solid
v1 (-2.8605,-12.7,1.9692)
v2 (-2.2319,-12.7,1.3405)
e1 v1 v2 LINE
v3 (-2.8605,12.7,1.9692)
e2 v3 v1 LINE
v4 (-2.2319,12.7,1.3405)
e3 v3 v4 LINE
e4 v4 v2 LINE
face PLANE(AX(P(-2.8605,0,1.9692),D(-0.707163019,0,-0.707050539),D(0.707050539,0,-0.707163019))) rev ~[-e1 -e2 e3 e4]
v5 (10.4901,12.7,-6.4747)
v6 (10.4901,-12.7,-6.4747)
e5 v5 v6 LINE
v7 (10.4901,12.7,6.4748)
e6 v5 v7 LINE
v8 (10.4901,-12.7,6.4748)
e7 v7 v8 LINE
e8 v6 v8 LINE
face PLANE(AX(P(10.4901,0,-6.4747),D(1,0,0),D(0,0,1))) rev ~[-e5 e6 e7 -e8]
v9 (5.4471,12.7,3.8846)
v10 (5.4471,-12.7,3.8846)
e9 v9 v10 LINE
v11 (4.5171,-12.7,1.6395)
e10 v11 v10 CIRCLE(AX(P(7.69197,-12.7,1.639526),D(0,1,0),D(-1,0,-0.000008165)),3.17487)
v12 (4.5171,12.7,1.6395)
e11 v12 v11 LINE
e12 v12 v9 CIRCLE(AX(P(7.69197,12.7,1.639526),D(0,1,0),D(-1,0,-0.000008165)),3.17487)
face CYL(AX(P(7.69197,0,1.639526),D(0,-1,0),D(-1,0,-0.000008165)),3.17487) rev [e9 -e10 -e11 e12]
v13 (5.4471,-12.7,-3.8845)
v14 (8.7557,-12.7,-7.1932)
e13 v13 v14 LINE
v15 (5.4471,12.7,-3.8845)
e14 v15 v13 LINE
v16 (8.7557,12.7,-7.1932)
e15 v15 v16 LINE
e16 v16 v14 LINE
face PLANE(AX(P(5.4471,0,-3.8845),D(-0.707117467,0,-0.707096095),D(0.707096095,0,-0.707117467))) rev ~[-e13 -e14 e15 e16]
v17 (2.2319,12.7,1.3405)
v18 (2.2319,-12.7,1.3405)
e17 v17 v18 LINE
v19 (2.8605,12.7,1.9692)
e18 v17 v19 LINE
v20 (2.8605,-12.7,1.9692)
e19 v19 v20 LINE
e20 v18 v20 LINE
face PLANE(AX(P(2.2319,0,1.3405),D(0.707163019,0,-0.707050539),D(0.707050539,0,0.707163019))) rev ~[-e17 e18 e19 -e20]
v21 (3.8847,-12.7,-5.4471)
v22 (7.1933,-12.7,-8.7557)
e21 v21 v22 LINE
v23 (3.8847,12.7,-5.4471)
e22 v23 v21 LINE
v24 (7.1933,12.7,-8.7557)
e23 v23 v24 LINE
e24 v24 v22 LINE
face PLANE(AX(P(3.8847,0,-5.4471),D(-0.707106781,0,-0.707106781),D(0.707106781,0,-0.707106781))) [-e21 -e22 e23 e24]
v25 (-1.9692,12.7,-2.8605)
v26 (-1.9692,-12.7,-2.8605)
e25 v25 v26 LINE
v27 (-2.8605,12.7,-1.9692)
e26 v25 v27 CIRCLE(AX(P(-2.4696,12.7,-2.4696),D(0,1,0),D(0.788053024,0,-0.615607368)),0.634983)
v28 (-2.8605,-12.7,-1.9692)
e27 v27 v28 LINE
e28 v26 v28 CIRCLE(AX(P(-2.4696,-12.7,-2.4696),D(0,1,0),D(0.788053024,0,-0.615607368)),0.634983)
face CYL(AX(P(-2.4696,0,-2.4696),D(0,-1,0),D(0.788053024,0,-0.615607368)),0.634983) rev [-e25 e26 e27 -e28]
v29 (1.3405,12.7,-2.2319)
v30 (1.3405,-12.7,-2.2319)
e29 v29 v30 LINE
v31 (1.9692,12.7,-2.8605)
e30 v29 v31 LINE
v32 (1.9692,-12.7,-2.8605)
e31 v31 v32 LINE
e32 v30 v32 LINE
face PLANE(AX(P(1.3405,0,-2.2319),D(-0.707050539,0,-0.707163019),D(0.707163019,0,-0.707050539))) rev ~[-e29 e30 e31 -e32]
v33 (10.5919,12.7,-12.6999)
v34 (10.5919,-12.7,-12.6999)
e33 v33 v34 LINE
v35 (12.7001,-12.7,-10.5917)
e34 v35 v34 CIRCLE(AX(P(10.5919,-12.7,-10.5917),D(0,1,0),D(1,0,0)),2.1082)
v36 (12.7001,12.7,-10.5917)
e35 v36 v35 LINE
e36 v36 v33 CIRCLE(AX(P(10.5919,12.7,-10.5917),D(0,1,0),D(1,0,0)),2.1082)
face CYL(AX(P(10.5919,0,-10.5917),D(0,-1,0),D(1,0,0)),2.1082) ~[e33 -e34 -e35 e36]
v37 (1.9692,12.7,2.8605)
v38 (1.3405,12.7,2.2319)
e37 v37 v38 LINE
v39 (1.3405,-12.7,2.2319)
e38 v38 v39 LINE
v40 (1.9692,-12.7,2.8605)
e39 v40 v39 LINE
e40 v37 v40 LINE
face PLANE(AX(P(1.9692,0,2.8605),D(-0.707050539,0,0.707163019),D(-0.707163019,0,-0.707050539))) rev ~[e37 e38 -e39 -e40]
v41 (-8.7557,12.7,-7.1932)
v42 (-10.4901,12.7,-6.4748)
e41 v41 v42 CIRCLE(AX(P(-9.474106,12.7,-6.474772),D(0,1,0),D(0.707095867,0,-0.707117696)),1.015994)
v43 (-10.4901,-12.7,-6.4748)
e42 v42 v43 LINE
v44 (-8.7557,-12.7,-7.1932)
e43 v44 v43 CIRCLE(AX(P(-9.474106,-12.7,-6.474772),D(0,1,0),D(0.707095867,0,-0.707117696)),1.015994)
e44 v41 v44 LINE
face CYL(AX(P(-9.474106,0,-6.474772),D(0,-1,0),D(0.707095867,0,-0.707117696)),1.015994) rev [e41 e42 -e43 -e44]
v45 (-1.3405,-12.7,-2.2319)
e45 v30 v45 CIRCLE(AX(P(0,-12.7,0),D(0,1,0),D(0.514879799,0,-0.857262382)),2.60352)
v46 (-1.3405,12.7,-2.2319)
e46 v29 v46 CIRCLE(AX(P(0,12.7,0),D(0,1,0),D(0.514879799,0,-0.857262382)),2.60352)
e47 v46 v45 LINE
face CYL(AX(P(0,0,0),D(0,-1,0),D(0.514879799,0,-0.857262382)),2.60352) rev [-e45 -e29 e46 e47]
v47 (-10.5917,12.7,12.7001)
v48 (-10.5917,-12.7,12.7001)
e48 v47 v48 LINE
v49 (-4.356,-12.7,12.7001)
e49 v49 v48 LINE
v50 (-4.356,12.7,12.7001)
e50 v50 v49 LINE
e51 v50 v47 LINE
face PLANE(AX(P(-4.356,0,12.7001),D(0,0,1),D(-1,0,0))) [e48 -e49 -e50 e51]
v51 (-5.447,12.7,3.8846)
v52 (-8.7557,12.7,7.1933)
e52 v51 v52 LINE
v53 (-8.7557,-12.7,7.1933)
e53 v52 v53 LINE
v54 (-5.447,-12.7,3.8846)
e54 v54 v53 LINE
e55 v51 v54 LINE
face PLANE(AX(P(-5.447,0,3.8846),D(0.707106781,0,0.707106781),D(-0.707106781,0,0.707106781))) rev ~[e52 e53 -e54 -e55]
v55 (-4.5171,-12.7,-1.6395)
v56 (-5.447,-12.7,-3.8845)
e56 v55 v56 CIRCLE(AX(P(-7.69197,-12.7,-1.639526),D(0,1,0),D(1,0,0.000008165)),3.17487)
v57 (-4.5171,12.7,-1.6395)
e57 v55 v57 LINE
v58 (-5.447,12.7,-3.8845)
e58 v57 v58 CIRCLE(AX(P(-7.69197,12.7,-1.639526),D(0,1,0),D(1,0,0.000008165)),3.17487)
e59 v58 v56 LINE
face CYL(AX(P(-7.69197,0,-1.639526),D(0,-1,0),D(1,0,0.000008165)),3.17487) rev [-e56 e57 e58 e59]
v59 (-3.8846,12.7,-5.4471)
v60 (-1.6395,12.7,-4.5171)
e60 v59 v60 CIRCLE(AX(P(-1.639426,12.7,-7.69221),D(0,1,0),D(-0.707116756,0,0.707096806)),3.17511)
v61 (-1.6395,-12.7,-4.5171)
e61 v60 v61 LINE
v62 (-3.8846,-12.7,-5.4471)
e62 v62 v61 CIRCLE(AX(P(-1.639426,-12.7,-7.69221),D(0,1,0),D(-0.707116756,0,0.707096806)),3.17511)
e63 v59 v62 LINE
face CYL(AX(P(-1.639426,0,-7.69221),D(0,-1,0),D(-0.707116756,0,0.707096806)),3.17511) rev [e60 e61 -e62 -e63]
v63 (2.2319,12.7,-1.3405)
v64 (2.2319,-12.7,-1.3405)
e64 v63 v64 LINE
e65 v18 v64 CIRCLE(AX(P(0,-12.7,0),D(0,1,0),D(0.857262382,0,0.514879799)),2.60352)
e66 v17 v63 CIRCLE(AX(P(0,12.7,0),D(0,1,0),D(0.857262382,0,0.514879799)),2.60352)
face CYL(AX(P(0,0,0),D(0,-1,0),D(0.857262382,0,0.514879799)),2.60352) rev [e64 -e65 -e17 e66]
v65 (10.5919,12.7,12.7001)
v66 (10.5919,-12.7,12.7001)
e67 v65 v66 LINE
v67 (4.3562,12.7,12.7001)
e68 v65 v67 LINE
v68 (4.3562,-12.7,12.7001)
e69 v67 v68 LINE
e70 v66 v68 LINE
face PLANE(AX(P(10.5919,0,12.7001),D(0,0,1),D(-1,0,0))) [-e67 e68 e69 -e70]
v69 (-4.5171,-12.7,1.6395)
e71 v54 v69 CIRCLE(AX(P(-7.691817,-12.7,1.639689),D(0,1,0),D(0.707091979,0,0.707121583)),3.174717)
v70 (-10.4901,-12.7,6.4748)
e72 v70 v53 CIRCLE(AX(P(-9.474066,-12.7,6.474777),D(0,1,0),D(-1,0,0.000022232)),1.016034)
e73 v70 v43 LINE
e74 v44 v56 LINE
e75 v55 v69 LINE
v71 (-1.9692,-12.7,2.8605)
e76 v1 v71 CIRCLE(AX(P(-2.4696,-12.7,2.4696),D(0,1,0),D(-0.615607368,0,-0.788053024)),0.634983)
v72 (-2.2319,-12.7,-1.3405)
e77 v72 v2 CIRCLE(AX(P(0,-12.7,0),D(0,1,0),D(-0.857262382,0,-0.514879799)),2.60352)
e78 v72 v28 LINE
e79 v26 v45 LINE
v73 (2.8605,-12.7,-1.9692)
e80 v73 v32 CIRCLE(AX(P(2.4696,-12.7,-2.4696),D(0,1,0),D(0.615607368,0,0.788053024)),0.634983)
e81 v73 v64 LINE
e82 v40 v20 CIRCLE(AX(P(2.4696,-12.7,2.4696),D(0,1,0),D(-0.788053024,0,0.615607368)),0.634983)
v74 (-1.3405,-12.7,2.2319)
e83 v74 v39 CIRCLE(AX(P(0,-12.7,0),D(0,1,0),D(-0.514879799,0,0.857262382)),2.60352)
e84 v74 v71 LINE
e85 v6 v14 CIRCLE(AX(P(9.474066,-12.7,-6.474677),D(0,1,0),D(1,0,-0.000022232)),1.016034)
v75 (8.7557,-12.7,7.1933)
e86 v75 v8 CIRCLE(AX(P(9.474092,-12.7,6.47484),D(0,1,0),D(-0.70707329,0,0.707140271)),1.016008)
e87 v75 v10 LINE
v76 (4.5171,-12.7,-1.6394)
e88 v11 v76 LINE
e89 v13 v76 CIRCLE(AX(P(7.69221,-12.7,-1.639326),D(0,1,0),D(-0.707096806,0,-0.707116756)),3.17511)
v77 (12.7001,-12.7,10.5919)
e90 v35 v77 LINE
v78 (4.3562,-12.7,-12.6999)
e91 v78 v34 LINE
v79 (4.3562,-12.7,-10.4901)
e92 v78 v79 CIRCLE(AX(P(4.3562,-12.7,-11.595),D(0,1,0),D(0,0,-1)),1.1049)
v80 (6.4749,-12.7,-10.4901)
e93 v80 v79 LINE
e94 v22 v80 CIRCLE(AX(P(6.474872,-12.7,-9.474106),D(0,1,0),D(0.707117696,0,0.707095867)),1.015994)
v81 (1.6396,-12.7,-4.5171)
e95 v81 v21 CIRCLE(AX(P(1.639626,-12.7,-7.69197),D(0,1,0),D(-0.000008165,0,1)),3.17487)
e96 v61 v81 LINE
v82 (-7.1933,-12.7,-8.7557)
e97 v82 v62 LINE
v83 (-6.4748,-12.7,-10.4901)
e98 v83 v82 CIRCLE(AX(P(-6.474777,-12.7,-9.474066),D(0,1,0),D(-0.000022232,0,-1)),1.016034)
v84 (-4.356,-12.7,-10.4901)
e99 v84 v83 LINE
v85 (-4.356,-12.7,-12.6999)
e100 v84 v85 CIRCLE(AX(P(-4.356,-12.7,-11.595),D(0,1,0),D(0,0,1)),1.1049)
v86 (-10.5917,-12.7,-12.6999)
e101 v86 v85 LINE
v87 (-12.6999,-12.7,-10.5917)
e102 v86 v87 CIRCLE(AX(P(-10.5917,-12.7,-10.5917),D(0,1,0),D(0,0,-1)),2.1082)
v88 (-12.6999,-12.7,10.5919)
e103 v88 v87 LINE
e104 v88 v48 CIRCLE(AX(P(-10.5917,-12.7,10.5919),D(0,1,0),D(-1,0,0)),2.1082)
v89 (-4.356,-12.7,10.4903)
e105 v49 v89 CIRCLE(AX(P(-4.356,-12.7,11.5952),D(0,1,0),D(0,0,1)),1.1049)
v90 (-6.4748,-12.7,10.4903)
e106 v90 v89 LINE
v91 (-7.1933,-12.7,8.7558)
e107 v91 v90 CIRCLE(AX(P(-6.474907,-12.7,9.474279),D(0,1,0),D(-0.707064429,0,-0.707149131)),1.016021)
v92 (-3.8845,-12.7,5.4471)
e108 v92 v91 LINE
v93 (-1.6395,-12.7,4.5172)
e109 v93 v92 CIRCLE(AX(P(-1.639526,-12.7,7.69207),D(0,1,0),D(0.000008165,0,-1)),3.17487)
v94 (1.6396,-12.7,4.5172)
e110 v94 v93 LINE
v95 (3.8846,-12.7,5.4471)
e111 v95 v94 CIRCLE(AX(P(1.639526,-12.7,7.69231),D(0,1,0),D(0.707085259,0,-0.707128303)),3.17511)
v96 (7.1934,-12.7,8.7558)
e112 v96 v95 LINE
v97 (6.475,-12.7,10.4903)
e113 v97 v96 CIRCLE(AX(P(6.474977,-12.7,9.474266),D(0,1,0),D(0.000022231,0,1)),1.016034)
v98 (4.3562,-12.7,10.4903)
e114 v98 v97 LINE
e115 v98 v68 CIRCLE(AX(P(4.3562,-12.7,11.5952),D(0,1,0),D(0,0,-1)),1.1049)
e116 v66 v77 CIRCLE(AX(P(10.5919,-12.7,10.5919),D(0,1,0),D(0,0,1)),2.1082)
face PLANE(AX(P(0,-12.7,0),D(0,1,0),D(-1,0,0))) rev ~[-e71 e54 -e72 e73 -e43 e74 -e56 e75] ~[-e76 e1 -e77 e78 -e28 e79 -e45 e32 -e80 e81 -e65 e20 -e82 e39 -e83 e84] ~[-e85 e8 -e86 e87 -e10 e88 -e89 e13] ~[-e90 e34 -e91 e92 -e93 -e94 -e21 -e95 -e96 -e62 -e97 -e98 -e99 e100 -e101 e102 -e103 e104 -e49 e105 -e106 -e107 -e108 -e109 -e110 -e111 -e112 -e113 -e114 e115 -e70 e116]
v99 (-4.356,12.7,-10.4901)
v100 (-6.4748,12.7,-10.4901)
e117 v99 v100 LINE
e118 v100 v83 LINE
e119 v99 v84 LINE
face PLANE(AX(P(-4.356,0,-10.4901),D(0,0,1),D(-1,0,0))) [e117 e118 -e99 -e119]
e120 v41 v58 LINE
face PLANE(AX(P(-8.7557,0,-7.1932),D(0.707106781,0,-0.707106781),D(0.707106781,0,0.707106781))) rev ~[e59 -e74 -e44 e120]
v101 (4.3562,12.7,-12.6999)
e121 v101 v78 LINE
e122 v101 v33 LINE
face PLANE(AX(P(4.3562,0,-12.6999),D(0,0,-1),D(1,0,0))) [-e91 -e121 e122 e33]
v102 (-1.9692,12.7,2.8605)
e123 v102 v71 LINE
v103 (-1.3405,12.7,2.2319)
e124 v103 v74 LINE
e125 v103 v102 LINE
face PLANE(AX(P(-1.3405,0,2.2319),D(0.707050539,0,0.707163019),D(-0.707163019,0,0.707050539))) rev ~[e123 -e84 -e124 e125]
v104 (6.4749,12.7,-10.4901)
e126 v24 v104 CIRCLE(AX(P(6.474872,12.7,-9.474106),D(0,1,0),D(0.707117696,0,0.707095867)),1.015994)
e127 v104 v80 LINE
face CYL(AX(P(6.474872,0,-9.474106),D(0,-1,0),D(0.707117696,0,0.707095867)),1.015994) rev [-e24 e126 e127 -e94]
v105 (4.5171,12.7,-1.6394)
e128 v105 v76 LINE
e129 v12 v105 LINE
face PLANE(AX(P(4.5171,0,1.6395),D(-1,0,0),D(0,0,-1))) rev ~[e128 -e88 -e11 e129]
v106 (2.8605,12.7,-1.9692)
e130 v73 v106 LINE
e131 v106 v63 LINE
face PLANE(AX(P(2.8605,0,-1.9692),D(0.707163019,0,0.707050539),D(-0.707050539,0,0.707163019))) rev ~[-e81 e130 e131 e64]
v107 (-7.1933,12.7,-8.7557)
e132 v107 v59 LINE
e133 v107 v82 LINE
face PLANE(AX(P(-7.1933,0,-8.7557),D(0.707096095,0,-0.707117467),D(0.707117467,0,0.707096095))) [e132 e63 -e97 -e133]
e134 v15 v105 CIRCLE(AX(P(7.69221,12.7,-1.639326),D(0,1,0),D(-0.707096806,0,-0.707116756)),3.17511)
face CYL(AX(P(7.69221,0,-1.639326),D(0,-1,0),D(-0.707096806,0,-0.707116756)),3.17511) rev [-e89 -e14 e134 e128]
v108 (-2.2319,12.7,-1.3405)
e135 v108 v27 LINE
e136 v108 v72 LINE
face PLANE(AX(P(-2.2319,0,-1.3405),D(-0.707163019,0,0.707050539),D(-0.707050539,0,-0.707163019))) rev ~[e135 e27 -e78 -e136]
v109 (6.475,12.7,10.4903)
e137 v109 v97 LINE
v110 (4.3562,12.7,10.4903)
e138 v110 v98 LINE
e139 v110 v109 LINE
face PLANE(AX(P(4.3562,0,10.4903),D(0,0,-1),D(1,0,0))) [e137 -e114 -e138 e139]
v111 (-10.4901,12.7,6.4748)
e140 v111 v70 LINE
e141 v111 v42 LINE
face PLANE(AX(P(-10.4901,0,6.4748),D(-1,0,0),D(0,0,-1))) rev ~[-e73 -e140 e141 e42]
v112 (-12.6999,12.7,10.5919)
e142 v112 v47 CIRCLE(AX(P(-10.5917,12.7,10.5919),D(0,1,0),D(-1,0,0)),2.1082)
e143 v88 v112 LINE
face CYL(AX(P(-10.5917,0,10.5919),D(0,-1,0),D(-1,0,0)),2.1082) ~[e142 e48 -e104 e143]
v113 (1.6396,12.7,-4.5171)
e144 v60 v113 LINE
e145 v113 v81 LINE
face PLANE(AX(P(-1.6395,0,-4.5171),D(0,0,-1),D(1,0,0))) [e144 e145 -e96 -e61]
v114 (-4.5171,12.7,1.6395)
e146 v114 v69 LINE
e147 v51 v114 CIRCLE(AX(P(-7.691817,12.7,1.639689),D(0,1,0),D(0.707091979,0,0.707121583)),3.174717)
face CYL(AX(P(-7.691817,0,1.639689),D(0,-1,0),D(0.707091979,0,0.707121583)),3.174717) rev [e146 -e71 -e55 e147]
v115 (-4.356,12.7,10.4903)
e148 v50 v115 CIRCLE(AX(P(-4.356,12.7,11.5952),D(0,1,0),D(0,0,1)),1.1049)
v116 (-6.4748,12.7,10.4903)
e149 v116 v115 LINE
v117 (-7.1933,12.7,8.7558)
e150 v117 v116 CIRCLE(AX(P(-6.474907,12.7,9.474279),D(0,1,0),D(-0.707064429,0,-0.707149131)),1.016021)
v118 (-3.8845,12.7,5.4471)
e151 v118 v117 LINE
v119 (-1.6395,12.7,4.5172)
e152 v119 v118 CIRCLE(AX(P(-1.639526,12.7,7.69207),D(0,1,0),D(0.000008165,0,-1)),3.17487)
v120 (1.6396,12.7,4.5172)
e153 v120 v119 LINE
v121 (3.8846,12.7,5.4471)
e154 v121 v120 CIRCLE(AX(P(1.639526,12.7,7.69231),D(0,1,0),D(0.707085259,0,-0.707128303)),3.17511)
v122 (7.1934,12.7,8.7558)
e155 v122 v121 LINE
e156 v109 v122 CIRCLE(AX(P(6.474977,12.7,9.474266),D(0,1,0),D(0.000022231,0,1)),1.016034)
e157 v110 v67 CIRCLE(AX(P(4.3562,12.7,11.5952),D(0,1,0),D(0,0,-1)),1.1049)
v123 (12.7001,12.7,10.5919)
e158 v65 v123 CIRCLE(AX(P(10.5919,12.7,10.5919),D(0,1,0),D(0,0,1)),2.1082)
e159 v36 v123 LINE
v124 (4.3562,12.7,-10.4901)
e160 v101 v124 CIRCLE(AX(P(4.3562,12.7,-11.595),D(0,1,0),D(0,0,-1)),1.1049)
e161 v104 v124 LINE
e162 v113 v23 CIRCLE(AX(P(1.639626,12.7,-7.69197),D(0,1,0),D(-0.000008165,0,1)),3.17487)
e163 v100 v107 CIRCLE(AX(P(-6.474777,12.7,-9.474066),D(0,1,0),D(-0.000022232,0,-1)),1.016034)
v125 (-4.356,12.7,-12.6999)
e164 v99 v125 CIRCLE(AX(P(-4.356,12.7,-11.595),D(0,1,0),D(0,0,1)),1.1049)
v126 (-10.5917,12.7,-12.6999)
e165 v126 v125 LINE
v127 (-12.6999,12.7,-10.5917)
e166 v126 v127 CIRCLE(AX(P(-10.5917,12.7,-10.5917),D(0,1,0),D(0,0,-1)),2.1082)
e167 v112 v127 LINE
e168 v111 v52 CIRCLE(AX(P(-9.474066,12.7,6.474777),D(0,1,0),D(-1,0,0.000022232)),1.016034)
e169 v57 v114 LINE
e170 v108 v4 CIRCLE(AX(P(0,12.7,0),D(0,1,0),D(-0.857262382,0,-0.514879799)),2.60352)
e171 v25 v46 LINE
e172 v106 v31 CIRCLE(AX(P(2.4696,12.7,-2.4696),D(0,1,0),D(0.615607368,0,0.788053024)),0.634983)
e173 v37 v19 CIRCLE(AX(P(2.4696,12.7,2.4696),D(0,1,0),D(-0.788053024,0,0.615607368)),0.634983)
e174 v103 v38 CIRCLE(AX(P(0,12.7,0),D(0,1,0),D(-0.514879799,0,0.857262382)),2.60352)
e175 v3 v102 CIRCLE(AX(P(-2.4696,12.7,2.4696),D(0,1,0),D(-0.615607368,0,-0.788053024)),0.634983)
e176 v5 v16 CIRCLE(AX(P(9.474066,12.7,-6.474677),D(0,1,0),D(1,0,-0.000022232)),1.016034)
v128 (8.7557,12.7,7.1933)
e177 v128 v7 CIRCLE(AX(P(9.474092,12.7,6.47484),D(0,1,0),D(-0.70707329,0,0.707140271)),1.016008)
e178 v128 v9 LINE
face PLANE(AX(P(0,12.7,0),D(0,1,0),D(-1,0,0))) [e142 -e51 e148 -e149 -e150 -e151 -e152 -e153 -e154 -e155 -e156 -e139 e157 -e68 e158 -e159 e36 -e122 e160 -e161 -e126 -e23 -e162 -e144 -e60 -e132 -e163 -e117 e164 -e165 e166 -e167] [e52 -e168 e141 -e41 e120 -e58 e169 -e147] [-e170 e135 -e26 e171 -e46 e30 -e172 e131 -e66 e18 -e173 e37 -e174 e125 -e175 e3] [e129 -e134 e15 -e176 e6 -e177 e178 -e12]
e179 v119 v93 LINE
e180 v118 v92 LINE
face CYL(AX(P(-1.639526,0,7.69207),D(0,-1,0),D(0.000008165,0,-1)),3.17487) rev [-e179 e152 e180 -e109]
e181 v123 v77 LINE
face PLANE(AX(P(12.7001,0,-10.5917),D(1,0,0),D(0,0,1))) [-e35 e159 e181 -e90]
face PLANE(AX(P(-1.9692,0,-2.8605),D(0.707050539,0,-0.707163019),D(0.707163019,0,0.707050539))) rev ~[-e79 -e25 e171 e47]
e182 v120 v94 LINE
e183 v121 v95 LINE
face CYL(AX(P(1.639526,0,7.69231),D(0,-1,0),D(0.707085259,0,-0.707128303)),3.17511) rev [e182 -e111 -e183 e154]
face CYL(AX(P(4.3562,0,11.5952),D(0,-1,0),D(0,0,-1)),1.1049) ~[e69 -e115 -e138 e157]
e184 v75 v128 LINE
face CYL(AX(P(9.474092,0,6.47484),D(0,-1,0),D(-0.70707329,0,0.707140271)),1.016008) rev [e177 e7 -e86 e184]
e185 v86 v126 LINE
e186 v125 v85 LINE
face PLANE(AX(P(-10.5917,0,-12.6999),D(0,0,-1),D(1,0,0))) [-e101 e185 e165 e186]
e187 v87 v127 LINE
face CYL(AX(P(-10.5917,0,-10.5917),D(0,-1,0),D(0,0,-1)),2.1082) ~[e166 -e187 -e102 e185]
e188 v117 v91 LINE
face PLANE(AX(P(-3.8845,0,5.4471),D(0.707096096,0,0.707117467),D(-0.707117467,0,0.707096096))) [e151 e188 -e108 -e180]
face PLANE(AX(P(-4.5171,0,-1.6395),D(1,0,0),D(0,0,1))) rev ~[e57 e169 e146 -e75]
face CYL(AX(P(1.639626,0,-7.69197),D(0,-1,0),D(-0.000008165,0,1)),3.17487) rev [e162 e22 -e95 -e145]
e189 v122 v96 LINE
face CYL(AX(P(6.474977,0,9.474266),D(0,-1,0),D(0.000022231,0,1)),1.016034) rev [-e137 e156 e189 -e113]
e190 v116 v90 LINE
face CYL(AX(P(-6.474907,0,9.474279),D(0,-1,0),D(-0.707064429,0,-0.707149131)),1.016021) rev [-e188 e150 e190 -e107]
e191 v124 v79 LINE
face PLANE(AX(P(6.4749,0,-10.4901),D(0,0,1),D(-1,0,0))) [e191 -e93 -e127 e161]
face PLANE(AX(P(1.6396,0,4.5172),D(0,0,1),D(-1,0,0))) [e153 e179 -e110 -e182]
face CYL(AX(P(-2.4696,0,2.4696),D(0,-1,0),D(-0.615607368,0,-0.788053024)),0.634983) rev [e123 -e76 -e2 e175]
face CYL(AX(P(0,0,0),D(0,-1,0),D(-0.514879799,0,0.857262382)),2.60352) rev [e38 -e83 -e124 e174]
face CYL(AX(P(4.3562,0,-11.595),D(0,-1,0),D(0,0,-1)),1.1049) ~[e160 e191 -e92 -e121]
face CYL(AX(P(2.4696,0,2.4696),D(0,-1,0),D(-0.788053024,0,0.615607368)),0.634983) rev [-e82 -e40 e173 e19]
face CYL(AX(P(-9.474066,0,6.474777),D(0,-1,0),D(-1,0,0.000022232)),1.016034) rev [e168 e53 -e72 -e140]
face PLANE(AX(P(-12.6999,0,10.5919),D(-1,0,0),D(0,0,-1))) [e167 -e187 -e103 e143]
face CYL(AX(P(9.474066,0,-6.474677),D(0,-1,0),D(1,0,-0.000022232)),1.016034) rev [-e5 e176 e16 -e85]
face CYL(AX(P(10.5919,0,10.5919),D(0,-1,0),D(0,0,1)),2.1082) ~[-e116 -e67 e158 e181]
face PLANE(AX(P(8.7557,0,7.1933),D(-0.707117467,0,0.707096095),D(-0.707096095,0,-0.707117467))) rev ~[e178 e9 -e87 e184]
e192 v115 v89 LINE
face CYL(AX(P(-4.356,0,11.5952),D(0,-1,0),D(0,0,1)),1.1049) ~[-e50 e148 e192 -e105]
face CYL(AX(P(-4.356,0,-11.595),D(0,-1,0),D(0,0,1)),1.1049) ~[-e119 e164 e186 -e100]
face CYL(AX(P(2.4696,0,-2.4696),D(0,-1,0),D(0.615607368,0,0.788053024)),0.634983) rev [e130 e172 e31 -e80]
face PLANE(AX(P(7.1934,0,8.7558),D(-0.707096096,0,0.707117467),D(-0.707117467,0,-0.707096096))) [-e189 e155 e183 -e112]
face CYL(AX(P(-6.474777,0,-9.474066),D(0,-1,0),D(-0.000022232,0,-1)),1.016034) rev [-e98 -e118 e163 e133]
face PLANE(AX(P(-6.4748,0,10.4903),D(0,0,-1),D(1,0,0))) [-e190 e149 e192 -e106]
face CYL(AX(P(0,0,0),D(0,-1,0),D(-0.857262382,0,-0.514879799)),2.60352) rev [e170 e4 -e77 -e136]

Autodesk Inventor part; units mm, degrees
ref_plane "YZ Plane" through (0, 0, 0) normal (1, 0, 0) x (0, 1, 0)
ref_plane "XZ Plane" through (0, 0, 0) normal (0, 1, 0) x (-1, 0, 0)
ref_plane "XY Plane" through (0, 0, 0) normal (0, 0, 1) x (1, 0, 0)
sketch "Sketch1" plane through (0, 0, 0) normal (0, 1, 0) x (-1, 0, 0)
  arc A0 (-2.8605, -1.9692) -> (-1.9692, -2.8605) centre (-2.4696, -2.4696) ccw
  line L0 (-1.3405, -2.2319) -> (-1.9692, -2.8605)
  arc A1 (-1.3405, -2.2319) -> (1.3405, -2.2319) centre (0, 0) ccw
  line L1 (1.9692, -2.8605) -> (1.3405, -2.2319)
  arc A2 (1.9692, -2.8605) -> (2.8605, -1.9692) centre (2.4696, -2.4696) ccw
  line L2 (2.2319, -1.3405) -> (2.8605, -1.9692)
  arc A3 (2.2319, -1.3405) -> (2.2319, 1.3405) centre (0, 0) ccw
  line L3 (2.8605, 1.9692) -> (2.2319, 1.3405)
  arc A4 (2.8605, 1.9692) -> (1.9692, 2.8605) centre (2.4696, 2.4696) ccw
  line L4 (1.3405, 2.2319) -> (1.9692, 2.8605)
  arc A5 (1.3405, 2.2319) -> (-1.3405, 2.2319) centre (0, 0) ccw
  line L5 (-1.9692, 2.8605) -> (-1.3405, 2.2319)
  arc A6 (-1.9692, 2.8605) -> (-2.8605, 1.9692) centre (-2.4696, 2.4696) ccw
  line L6 (-2.2319, 1.3405) -> (-2.8605, 1.9692)
  arc A7 (-2.2319, 1.3405) -> (-2.2319, -1.3405) centre (0, 0) ccw
  line L7 (-2.8605, -1.9692) -> (-2.2319, -1.3405)
  arc A8 (4.5171, -1.6395) -> (5.447, -3.8845) centre (7.6921, -1.6395) ccw
  line L8 (8.7557, -7.1932) -> (5.447, -3.8845)
  arc A9 (8.7557, -7.1932) -> (10.4901, -6.4748) centre (9.4741, -6.4748) ccw
  line L9 (10.4901, 6.4748) -> (10.4901, -6.4748)
  arc A10 (10.4901, 6.4748) -> (8.7557, 7.1933) centre (9.4741, 6.4748) ccw
  line L10 (5.447, 3.8846) -> (8.7557, 7.1933)
  arc A11 (5.447, 3.8846) -> (4.5171, 1.6395) centre (7.6921, 1.6395) ccw
  line L11 (4.5171, -1.6395) -> (4.5171, 1.6395)
  arc A12 (-8.7557, 7.1933) -> (-10.4901, 6.4748) centre (-9.4741, 6.4748) ccw
  line L12 (-10.4901, -6.4747) -> (-10.4901, 6.4748)
  arc A13 (-10.4901, -6.4747) -> (-8.7557, -7.1932) centre (-9.4741, -6.4747) ccw
  line L13 (-5.4471, -3.8845) -> (-8.7557, -7.1932)
  arc A14 (-5.4471, -3.8845) -> (-4.5171, -1.6394) centre (-7.6921, -1.6394) ccw
  line L14 (-4.5171, 1.6395) -> (-4.5171, -1.6394)
  arc A15 (-4.5171, 1.6395) -> (-5.4471, 3.8846) centre (-7.6921, 1.6395) ccw
  line L15 (-8.7557, 7.1933) -> (-5.4471, 3.8846)
  arc A16 (10.5917, -12.6999) -> (12.6999, -10.5917) centre (10.5917, -10.5917) ccw
  line L16 (10.5917, -12.6999) -> (4.356, -12.6999)
  arc A17 (4.356, -10.4901) -> (4.356, -12.6999) centre (4.356, -11.595) ccw
  line L17 (4.356, -10.4901) -> (6.4748, -10.4901)
  arc A18 (6.4748, -10.4901) -> (7.1933, -8.7557) centre (6.4748, -9.4741) ccw
  line L18 (7.1933, -8.7557) -> (3.8846, -5.4471)
  arc A19 (3.8846, -5.4471) -> (1.6395, -4.5171) centre (1.6395, -7.6921) ccw
  line L19 (1.6395, -4.5171) -> (-1.6396, -4.5171)
  arc A20 (-1.6396, -4.5171) -> (-3.8847, -5.4471) centre (-1.6396, -7.6921) ccw
  line L20 (-3.8847, -5.4471) -> (-7.1933, -8.7557)
  arc A21 (-7.1933, -8.7557) -> (-6.4749, -10.4901) centre (-6.4749, -9.4741) ccw
  line L21 (-6.4749, -10.4901) -> (-4.3562, -10.4901)
  arc A22 (-4.3562, -12.6999) -> (-4.3562, -10.4901) centre (-4.3562, -11.595) ccw
  line L22 (-4.3562, -12.6999) -> (-10.5919, -12.6999)
  arc A23 (-12.7001, -10.5917) -> (-10.5919, -12.6999) centre (-10.5919, -10.5917) ccw
  line L23 (-12.7001, -10.5917) -> (-12.7001, 10.5919)
  arc A24 (-10.5919, 12.7001) -> (-12.7001, 10.5919) centre (-10.5919, 10.5919) ccw
  line L24 (-10.5919, 12.7001) -> (-4.3562, 12.7001)
  arc A25 (-4.3562, 10.4903) -> (-4.3562, 12.7001) centre (-4.3562, 11.5952) ccw
  line L25 (-4.3562, 10.4903) -> (-6.475, 10.4903)
  arc A26 (-6.475, 10.4903) -> (-7.1934, 8.7558) centre (-6.475, 9.4743) ccw
  line L26 (-7.1934, 8.7558) -> (-3.8846, 5.4471)
  arc A27 (-3.8846, 5.4471) -> (-1.6396, 4.5172) centre (-1.6396, 7.6922) ccw
  line L27 (-1.6396, 4.5172) -> (1.6395, 4.5172)
  arc A28 (1.6395, 4.5172) -> (3.8845, 5.4471) centre (1.6395, 7.6922) ccw
  line L28 (3.8845, 5.4471) -> (7.1933, 8.7558)
  arc A29 (7.1933, 8.7558) -> (6.4748, 10.4903) centre (6.4748, 9.4743) ccw
  line L29 (6.4748, 10.4903) -> (4.356, 10.4903)
  arc A30 (4.356, 12.7001) -> (4.356, 10.4903) centre (4.356, 11.5952) ccw
  line L30 (4.356, 12.7001) -> (10.5917, 12.7001)
  arc A31 (12.6999, 10.5919) -> (10.5917, 12.7001) centre (10.5917, 10.5919) ccw
  line L31 (12.6999, 10.5919) -> (12.6999, -10.5917)
  point P0 (0, 0)
  dimension "d0" = 2.1082
  dimension "d1" = 1.016
  dimension "d2" = 3.175
  dimension "d3" = 1.1049
  dimension "d4" = 0.635
  dimension "d5" = 2.6035
  dimension "d6" = 2.6035
  dimension "d7" = 2.6035
  dimension "d8" = 2.6035
  dimension "d9" = 90
  dimension "d10" = 90
  dimension "d11" = 45
  dimension "d12" = 45
  dimension "d13" = 45
  dimension "d14" = 90
  dimension "d15" = 90
  dimension "d16" = 45
  dimension "d17" = 45
  dimension "d18" = 45
  dimension "d19" = 45
  dimension "d20" = 45
  dimension "d21" = 45
  dimension "d22" = 2.2099
  dimension "d23" = 8.1829
  dimension "d24" = 17.2171
  dimension "d25" = 23.1901
  dimension "d26" = 25.4
  dimension "d27" = 1.7352
  dimension "d28" = 0.4746
  dimension "d29" = 2.2097
  dimension "d30" = 1.7351
  dimension "d31" = 0.4746
  dimension "d32" = 2.2096
  dimension "d33" = 9.0343
  dimension "d34" = 5.9731
  dimension "d35" = 15.0073
  dimension "d36" = 12.6999
  dimension "d37" = 12.7
  dimension "d38" = 12.6999
  dimension "d39" = 1.1048
  dimension "d40" = 1.1048
  dimension "d41" = 1.1049
  dimension "d42" = 1.1048
  dimension "d43" = 10.4902
  dimension "d44" = 10.4901
  dimension "d45" = 4.5172
  dimension "d46" = 0.6303
  dimension "d47" = 0.6303
  dimension "d48" = 0.6303
  dimension "d49" = 0.6303
  dimension "d50" = 1.1048
  dimension "d51" = 1.1049
  dimension "d52" = 8.3439
  dimension "d53" = 8.3439
  dimension "d54" = 9.8395
  dimension "d55" = 9.8395
  dimension "d56" = 10.2304
  dimension "d57" = 10.2304
  dimension "d58" = 10.4681
  dimension "d59" = 10.4681
  dimension "d60" = 14.6691
  dimension "d61" = 14.6691
  dimension "d62" = 15.1695
  dimension "d63" = 15.1695
extrude "Extrusion1" add sketch "Sketch1" along normal mid plane 25.4
properties part number "1004-S-BLACK-FB" material "6105-T5"
